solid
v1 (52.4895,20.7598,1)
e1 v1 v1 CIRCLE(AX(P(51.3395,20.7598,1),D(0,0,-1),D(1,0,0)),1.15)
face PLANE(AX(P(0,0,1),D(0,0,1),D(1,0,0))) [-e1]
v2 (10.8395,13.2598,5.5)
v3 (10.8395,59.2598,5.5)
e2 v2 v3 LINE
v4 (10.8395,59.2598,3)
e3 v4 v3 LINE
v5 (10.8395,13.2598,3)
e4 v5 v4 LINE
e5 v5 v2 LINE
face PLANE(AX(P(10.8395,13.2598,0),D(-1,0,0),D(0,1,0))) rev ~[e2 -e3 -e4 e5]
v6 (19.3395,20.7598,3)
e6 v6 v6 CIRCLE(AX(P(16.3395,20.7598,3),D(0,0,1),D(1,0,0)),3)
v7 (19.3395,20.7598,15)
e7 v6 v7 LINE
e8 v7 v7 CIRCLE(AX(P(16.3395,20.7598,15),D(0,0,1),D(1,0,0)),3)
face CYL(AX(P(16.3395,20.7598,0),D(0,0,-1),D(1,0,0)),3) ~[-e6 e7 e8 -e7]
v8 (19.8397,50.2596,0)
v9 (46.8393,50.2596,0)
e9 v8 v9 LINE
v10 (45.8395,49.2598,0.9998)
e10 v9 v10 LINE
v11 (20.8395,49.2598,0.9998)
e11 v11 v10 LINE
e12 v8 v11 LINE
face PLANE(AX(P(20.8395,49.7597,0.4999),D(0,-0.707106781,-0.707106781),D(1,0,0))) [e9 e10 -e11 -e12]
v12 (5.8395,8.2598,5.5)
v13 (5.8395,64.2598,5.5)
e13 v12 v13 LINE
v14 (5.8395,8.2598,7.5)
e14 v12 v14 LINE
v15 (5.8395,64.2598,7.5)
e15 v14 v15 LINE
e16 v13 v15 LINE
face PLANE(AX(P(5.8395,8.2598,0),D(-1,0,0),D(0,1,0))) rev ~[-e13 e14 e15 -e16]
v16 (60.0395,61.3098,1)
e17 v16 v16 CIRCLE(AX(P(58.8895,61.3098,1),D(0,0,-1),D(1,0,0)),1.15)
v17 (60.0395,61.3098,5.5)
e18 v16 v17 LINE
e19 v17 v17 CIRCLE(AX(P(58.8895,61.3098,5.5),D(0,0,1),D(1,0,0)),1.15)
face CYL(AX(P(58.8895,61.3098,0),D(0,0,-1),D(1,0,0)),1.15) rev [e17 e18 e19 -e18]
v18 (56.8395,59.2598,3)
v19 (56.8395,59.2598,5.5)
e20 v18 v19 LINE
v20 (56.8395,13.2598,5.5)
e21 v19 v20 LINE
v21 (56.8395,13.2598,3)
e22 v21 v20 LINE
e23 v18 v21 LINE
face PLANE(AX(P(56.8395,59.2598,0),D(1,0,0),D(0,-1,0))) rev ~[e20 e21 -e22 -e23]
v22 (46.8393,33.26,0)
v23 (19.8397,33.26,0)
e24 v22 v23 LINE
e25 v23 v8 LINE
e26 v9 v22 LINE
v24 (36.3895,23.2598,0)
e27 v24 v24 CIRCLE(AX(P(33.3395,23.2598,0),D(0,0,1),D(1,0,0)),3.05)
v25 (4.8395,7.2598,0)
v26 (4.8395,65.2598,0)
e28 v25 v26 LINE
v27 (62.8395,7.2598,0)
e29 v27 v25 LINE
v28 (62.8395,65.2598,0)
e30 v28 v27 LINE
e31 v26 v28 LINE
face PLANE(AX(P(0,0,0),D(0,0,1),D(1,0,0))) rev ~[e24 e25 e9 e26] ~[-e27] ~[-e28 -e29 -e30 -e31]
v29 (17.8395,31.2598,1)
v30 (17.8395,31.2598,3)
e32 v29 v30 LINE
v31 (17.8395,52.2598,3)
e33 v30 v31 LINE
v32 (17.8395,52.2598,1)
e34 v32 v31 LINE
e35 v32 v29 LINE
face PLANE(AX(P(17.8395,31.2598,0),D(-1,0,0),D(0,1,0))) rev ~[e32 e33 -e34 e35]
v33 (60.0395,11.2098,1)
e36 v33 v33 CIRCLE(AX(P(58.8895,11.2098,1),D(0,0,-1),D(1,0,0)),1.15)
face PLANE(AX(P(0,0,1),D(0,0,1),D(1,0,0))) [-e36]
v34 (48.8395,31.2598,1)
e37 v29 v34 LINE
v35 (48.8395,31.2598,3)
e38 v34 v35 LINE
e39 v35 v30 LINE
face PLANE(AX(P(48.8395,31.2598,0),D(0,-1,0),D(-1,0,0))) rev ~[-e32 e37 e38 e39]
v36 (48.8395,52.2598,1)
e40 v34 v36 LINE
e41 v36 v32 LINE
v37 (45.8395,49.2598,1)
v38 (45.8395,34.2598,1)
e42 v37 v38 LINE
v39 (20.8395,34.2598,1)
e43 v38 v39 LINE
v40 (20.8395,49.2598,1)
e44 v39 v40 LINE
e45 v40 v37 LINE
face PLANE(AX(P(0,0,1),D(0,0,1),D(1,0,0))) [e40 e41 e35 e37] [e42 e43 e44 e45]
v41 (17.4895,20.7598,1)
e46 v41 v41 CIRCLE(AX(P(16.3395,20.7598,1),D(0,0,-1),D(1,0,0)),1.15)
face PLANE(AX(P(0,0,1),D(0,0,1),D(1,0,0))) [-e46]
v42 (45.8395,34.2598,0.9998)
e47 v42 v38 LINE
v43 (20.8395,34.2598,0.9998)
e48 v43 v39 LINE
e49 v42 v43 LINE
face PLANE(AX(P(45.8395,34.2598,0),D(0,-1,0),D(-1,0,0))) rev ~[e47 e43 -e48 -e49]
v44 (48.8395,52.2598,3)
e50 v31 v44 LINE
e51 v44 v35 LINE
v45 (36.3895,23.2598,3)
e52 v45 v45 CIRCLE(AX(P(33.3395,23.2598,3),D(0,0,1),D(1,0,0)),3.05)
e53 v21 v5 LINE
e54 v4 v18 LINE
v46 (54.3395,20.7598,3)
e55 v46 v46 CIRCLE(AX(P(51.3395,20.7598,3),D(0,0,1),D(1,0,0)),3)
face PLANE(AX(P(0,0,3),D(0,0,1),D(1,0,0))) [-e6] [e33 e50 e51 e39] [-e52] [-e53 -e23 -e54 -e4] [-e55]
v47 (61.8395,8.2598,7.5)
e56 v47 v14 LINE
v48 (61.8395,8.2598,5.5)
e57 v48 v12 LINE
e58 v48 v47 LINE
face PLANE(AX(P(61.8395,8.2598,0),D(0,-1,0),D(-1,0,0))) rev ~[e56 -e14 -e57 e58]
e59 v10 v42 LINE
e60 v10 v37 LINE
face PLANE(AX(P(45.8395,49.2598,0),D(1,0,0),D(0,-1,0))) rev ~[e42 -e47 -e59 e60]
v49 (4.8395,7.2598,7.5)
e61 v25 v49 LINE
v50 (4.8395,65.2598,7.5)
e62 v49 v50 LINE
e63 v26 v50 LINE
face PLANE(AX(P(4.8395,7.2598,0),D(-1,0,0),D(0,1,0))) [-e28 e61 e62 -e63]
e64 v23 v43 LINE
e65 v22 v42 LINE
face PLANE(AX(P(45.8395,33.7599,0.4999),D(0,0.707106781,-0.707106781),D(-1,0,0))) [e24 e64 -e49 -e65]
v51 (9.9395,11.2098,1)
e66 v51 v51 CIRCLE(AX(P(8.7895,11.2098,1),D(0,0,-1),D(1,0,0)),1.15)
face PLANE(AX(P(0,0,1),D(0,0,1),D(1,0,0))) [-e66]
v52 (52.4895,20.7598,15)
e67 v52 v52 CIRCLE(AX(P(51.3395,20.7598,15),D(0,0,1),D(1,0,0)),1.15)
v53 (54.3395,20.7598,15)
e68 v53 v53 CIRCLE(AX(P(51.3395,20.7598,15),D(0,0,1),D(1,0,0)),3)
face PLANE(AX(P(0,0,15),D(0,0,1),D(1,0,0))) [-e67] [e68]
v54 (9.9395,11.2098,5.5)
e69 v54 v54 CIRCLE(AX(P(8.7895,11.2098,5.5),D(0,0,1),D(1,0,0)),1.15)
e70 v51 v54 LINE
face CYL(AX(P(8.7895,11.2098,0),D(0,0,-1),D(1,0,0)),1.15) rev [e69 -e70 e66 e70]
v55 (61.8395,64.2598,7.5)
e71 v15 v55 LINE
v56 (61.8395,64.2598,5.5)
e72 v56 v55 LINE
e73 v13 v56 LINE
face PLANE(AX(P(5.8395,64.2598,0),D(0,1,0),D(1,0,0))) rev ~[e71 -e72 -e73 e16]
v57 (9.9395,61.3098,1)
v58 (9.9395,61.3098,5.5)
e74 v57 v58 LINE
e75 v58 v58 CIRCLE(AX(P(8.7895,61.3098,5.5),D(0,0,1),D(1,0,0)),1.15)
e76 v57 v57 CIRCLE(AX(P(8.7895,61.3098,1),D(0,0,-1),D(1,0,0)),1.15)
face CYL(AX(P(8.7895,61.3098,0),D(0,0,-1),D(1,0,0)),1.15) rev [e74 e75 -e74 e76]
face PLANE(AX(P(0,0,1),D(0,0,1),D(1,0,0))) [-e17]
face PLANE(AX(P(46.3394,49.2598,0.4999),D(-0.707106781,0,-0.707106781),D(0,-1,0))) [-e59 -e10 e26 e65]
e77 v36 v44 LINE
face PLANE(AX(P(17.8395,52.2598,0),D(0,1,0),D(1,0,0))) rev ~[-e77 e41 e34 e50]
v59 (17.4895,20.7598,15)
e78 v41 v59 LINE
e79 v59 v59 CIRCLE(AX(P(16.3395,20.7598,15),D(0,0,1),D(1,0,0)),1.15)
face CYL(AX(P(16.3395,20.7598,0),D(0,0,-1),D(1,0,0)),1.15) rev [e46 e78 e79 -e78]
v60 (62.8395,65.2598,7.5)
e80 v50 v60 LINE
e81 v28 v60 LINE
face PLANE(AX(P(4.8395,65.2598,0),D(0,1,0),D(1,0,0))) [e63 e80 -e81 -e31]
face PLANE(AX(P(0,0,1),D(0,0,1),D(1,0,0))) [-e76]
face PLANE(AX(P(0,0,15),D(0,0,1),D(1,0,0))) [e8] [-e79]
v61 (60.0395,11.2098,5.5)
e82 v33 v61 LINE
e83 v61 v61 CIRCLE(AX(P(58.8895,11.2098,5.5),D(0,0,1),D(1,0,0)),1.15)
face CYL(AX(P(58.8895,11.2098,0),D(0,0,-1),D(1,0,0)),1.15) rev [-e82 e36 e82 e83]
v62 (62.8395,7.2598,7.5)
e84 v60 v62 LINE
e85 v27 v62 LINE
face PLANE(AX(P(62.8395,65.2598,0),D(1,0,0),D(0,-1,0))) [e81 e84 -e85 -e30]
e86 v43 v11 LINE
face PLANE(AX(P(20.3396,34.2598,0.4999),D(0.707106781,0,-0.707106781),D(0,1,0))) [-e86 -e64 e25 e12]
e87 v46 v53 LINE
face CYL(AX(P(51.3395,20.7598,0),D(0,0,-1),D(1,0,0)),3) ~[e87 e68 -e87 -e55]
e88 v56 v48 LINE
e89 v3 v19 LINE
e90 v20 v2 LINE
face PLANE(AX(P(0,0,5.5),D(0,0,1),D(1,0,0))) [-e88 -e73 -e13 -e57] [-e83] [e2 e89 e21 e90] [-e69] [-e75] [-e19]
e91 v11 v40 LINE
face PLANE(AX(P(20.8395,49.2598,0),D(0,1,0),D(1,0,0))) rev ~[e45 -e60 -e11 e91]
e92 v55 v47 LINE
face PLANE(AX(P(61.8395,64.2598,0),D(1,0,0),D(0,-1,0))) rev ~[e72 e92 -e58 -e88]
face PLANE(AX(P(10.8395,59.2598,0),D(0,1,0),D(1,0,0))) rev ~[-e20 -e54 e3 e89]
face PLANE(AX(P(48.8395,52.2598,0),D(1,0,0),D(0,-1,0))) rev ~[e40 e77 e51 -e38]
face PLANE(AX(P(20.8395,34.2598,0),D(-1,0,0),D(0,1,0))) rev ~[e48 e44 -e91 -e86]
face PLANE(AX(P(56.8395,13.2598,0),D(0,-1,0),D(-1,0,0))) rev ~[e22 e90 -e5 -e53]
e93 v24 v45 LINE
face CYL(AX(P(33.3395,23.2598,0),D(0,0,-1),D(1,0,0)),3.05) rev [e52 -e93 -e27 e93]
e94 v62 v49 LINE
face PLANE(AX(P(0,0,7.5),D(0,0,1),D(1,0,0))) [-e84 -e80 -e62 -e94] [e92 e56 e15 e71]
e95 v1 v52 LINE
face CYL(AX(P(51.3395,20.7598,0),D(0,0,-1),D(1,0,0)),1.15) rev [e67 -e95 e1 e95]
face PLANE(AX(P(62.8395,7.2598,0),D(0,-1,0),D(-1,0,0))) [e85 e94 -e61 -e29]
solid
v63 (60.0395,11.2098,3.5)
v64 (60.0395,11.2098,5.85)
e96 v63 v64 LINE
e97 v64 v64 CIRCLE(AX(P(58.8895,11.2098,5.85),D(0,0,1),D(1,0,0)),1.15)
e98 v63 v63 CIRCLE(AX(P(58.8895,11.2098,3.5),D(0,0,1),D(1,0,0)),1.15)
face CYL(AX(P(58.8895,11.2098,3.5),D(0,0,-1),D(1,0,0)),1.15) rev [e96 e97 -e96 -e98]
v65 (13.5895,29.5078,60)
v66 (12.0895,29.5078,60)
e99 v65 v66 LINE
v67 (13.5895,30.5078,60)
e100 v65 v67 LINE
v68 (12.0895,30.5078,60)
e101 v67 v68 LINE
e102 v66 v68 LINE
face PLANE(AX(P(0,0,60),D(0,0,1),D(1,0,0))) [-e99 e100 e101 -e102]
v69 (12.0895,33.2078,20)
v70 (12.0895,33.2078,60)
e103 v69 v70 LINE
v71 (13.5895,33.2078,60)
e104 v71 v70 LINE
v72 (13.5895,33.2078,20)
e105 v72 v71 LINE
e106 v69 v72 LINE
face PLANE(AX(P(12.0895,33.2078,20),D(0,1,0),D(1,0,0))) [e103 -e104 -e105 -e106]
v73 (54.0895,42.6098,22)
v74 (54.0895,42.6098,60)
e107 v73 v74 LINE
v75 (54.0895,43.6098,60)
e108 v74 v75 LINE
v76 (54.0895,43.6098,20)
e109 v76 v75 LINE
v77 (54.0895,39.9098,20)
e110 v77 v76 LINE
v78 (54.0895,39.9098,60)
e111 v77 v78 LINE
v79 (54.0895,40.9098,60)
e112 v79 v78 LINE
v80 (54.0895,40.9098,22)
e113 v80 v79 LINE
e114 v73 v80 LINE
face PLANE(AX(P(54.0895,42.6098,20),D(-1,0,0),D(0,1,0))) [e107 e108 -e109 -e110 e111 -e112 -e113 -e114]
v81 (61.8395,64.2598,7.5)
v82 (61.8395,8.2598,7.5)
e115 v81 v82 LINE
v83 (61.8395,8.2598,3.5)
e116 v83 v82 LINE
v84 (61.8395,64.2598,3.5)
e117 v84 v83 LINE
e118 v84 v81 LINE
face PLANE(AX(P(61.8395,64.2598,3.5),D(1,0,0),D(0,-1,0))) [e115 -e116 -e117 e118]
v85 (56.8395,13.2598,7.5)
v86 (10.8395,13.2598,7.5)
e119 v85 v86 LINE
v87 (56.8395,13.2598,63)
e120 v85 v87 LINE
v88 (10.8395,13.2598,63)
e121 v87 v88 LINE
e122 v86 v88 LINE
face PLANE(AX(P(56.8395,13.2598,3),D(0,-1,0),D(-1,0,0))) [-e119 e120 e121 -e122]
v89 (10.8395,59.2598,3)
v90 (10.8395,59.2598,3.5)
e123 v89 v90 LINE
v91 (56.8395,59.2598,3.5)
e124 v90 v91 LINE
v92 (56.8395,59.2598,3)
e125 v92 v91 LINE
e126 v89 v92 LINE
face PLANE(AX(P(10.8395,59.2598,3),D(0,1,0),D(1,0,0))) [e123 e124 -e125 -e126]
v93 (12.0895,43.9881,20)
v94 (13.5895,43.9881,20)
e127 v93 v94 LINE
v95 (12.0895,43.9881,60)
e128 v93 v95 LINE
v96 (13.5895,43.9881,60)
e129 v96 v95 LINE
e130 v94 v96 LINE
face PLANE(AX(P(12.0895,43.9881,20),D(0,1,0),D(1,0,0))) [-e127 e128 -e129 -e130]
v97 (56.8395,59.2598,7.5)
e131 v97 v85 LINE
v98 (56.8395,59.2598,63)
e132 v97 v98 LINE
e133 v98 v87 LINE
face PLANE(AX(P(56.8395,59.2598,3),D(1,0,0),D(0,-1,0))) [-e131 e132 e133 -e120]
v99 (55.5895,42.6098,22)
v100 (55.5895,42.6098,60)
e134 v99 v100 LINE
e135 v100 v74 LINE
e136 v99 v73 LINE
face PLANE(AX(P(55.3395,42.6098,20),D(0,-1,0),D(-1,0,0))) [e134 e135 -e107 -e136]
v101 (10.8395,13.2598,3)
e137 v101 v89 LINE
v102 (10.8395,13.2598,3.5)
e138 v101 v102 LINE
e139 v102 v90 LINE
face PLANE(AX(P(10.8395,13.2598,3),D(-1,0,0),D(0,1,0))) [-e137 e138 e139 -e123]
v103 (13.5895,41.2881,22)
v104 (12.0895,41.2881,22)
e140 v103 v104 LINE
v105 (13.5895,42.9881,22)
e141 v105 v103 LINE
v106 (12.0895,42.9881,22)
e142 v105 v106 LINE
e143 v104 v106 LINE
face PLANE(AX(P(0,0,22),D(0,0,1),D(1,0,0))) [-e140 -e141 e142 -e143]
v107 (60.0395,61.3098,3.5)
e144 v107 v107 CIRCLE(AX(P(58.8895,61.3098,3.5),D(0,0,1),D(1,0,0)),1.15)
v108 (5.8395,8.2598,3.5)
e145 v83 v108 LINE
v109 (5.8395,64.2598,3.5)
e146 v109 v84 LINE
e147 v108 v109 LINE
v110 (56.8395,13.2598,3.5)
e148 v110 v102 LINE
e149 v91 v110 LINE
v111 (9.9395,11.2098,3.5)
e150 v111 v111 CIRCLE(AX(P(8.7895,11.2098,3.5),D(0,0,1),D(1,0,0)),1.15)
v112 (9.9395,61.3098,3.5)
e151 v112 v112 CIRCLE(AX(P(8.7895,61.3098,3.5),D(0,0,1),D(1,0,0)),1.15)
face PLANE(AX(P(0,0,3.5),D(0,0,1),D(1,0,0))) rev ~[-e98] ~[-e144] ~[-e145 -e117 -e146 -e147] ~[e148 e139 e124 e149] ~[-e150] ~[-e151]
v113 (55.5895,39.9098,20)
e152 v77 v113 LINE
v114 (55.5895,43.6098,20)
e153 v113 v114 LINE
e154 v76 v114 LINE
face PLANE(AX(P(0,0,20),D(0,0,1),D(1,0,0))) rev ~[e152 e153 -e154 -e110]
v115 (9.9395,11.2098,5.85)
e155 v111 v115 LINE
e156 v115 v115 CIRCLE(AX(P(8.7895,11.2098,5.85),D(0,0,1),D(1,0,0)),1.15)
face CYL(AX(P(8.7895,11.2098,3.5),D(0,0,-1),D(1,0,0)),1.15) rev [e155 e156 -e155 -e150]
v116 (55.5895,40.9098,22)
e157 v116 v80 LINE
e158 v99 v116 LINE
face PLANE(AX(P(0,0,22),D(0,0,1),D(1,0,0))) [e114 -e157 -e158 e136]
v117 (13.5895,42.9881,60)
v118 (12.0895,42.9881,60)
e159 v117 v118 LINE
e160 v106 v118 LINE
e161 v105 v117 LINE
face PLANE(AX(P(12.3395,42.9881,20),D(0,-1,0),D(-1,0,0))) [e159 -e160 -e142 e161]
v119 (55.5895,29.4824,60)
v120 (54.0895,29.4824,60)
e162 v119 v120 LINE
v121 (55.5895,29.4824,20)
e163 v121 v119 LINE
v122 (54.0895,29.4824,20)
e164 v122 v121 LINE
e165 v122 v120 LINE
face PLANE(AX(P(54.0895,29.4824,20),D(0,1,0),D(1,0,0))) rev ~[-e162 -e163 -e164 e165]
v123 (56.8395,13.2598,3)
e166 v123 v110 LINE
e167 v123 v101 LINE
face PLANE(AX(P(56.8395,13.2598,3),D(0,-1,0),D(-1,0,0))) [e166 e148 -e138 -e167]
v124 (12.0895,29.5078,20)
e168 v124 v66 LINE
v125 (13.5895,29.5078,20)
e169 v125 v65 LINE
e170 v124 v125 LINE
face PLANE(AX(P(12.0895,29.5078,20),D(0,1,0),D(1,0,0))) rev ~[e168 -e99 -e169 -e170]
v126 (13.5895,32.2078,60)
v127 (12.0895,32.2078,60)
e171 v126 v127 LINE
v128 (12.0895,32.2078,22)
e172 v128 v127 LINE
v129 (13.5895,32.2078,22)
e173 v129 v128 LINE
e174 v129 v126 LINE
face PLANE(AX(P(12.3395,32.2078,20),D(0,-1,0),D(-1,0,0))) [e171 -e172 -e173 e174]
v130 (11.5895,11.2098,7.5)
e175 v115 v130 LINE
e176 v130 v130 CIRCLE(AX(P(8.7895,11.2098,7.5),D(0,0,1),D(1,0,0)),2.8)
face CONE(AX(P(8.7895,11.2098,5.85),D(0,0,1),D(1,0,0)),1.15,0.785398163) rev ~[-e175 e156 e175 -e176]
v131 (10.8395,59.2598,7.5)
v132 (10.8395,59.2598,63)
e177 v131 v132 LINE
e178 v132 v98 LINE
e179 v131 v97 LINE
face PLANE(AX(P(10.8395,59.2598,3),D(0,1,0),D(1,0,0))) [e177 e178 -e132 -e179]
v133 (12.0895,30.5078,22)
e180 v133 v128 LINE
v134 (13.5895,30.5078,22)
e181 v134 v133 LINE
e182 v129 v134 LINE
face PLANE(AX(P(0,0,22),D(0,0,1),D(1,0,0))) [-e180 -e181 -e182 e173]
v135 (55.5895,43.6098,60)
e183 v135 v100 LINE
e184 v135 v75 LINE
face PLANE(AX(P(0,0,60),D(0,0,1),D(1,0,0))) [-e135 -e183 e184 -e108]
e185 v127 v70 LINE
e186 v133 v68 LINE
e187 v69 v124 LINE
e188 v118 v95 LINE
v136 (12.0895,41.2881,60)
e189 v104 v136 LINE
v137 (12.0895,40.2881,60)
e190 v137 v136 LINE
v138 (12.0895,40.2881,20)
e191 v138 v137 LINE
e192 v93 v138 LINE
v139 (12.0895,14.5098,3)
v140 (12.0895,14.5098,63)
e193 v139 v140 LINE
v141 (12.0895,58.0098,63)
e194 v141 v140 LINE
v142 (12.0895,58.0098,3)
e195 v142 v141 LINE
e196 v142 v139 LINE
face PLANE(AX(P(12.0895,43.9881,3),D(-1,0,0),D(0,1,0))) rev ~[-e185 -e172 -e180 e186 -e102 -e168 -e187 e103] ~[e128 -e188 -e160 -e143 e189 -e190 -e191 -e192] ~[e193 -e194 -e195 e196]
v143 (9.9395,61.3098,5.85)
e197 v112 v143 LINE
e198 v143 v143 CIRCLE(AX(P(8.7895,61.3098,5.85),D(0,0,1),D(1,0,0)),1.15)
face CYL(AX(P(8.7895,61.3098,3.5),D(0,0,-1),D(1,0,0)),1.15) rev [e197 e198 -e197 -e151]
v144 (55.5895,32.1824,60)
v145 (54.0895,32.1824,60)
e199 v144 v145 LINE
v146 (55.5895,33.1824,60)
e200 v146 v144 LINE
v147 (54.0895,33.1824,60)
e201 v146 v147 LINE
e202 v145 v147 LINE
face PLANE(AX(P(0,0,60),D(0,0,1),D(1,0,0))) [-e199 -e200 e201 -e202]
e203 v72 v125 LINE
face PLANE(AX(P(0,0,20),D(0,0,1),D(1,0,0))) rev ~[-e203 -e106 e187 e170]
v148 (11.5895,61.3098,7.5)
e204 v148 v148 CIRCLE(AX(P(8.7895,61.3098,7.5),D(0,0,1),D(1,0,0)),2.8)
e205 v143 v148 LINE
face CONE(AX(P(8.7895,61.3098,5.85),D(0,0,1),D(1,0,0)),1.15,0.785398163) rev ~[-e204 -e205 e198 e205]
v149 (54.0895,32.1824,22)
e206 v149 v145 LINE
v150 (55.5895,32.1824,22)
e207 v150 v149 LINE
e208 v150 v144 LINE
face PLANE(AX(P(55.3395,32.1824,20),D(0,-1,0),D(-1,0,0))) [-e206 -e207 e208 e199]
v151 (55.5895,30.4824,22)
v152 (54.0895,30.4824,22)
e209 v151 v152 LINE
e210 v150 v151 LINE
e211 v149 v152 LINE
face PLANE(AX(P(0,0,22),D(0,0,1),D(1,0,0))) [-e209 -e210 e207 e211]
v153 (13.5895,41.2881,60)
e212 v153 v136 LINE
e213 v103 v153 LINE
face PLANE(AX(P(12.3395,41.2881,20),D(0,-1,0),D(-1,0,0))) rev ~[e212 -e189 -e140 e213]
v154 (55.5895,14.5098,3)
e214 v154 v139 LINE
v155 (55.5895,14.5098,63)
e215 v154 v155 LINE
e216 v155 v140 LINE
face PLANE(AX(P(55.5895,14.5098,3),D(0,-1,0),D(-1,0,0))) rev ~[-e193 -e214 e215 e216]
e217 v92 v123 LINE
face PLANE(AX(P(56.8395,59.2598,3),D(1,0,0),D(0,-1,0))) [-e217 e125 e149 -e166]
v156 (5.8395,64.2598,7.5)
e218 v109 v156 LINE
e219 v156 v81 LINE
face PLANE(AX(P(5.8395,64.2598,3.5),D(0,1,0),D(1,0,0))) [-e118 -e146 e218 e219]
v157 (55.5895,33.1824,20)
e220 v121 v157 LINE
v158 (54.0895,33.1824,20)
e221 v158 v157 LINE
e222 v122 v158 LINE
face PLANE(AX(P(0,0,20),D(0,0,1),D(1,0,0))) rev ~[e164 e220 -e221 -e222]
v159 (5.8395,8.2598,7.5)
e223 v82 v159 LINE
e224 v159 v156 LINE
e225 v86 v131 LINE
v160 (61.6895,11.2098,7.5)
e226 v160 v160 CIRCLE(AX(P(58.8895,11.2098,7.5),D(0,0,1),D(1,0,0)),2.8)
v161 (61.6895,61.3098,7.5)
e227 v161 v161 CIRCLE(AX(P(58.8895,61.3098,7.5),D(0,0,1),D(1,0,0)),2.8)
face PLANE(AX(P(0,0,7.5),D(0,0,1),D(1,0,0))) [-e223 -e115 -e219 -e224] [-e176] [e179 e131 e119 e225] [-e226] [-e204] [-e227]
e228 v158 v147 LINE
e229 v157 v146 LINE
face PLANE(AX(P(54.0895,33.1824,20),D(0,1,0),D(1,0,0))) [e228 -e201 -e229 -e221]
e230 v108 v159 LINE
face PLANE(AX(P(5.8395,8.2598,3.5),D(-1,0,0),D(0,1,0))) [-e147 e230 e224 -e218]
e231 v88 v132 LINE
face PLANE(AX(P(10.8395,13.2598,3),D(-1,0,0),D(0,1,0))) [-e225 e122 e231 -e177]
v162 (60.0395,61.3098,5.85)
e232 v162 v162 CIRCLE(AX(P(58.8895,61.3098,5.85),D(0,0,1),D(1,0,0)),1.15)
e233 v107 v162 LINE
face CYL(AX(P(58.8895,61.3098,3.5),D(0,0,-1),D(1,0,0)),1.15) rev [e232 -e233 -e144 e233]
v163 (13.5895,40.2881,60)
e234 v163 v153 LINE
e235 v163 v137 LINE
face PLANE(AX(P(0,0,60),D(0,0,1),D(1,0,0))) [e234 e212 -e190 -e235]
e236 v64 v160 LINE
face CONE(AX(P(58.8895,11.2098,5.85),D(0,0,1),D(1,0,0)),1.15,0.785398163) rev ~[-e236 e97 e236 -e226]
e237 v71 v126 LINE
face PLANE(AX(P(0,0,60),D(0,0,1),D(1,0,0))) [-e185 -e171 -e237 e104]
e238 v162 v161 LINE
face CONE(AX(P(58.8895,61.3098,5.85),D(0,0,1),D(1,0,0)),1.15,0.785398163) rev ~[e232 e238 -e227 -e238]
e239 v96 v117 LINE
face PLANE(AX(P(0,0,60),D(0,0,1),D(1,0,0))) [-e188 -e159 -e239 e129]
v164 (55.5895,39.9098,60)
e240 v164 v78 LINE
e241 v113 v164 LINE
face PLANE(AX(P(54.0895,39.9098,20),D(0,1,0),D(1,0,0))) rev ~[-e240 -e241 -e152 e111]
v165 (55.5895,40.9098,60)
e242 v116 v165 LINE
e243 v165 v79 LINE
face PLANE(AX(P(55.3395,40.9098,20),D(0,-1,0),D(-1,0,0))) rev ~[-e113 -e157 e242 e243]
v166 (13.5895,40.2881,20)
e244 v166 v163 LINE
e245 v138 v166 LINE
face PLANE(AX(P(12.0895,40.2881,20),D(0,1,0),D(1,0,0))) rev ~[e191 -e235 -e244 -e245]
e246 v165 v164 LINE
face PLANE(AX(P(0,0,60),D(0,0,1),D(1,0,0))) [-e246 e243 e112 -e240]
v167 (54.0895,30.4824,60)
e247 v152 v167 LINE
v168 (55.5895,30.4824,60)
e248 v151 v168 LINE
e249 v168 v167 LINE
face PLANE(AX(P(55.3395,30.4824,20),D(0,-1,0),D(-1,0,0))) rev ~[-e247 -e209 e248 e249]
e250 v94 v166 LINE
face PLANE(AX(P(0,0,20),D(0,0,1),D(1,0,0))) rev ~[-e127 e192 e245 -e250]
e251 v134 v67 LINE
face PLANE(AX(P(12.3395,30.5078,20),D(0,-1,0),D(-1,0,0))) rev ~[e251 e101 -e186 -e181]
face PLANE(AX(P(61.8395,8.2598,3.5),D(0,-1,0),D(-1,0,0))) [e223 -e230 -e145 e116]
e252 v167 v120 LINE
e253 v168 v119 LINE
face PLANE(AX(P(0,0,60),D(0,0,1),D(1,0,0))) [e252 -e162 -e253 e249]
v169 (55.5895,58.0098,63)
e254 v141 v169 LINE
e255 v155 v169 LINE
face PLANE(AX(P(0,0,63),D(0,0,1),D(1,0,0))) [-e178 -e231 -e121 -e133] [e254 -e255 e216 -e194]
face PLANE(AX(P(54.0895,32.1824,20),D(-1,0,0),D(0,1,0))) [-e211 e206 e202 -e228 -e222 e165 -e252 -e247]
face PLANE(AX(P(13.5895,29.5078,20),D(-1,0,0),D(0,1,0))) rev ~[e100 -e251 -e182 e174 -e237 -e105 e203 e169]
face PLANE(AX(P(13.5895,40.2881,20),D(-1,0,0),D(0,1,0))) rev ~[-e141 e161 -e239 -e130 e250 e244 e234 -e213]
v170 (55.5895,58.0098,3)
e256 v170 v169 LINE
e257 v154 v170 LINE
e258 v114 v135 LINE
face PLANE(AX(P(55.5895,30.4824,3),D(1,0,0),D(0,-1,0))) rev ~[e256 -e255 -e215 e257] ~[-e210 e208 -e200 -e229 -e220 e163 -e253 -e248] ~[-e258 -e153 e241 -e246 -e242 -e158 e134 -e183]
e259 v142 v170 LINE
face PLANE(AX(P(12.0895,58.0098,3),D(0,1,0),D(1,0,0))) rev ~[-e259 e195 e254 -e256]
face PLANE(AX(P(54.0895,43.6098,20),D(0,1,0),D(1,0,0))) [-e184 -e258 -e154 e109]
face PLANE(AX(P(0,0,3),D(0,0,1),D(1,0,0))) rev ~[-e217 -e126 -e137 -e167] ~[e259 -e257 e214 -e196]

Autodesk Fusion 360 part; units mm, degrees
sketch "Esquisse1" plane through (0, 0, 0) normal (0, 0, 1) x (1, 0, 0)
  line L0 (56.8395, 13.2598) -> (10.8395, 13.2598)
  line L1 (10.8395, 13.2598) -> (10.8395, 59.2598)
  line L2 (10.8395, 59.2598) -> (56.8395, 59.2598)
  line L3 (56.8395, 59.2598) -> (56.8395, 13.2598)
  line L4 (56.8395, 13.2598) -> (10.8395, 59.2598) construction
  line L5 (10.8395, 13.2598) -> (56.8395, 59.2598) construction
  line L6 (62.8395, 7.2598) -> (4.8395, 7.2598)
  line L7 (4.8395, 7.2598) -> (4.8395, 65.2598)
  line L8 (4.8395, 65.2598) -> (62.8395, 65.2598)
  line L9 (62.8395, 65.2598) -> (62.8395, 7.2598)
  line L10 (62.8395, 7.2598) -> (4.8395, 65.2598) construction
  line L11 (4.8395, 7.2598) -> (62.8395, 65.2598) construction
  line L12 (39.3395, 17.2598) -> (27.3395, 17.2598)
  line L13 (27.3395, 17.2598) -> (27.3395, 29.2598)
  line L14 (27.3395, 29.2598) -> (39.3395, 29.2598)
  line L15 (39.3395, 29.2598) -> (39.3395, 17.2598)
  line L16 (39.3395, 17.2598) -> (27.3395, 29.2598) construction
  line L17 (27.3395, 17.2598) -> (39.3395, 29.2598) construction
  circle A0 centre (33.3395, 23.2598) radius 3.05
  circle A1 centre (16.3395, 20.7598) radius 1.15
  circle A2 centre (51.3395, 20.7598) radius 1.15
  line L18 (45.8395, 34.2598) -> (20.8395, 34.2598)
  line L19 (20.8395, 34.2598) -> (20.8395, 49.2598)
  line L20 (20.8395, 49.2598) -> (45.8395, 49.2598)
  line L21 (45.8395, 49.2598) -> (45.8395, 34.2598)
  line L22 (45.8395, 34.2598) -> (20.8395, 49.2598) construction
  line L23 (20.8395, 34.2598) -> (45.8395, 49.2598) construction
  line L24 (55.3395, 14.7598) -> (12.3395, 14.7598)
  line L25 (12.3395, 14.7598) -> (12.3395, 57.7598)
  line L26 (12.3395, 57.7598) -> (55.3395, 57.7598)
  line L27 (55.3395, 57.7598) -> (55.3395, 14.7598)
  line L28 (55.3395, 14.7598) -> (12.3395, 57.7598) construction
  line L29 (12.3395, 14.7598) -> (55.3395, 57.7598) construction
  circle A3 centre (8.7895, 61.3098) radius 1.15
  circle A4 centre (16.3395, 20.7598) radius 3
  line L30 (61.8395, 8.2598) -> (5.8395, 8.2598)
  line L31 (5.8395, 8.2598) -> (5.8395, 64.2598)
  line L32 (5.8395, 64.2598) -> (61.8395, 64.2598)
  line L33 (61.8395, 64.2598) -> (61.8395, 8.2598)
  line L34 (61.8395, 8.2598) -> (5.8395, 64.2598) construction
  line L35 (5.8395, 8.2598) -> (61.8395, 64.2598) construction
  circle A5 centre (51.3395, 20.7598) radius 3
  circle A6 centre (8.7895, 11.2098) radius 1.15
  circle A7 centre (58.8895, 11.2098) radius 1.15
  circle A8 centre (58.8895, 61.3098) radius 1.15
  line L36 (55.5895, 14.5098) -> (12.0895, 14.5098)
  line L37 (12.0895, 14.5098) -> (12.0895, 58.0098)
  line L38 (12.0895, 58.0098) -> (55.5895, 58.0098)
  line L39 (55.5895, 58.0098) -> (55.5895, 14.5098)
  line L40 (55.5895, 14.5098) -> (12.0895, 58.0098) construction
  line L41 (12.0895, 14.5098) -> (55.5895, 58.0098) construction
  line L42 (55.5895, 40.9098) -> (54.0895, 40.9098)
  line L43 (54.0895, 40.9098) -> (54.0895, 39.9098)
  line L44 (54.0895, 39.9098) -> (55.5895, 39.9098)
  line L45 (55.5895, 39.9098) -> (55.5895, 40.9098)
  line L46 (55.5895, 42.6098) -> (54.0895, 42.6098)
  line L47 (54.0895, 42.6098) -> (54.0895, 43.6098)
  line L48 (54.0895, 43.6098) -> (55.5895, 43.6098)
  line L49 (55.5895, 43.6098) -> (55.5895, 42.6098)
  line L50 (55.5895, 32.1824) -> (54.0895, 32.1824)
  line L51 (54.0895, 30.4824) -> (54.0895, 29.4824)
  line L52 (55.5895, 30.4824) -> (54.0895, 30.4824)
  line L53 (54.0895, 32.1824) -> (54.0895, 33.1824)
  line L54 (55.5895, 29.4824) -> (55.5895, 30.4824)
  line L55 (54.0895, 29.4824) -> (55.5895, 29.4824)
  line L56 (54.0895, 33.1824) -> (55.5895, 33.1824)
  line L57 (55.5895, 33.1824) -> (55.5895, 32.1824)
  line L58 (13.5895, 30.5078) -> (12.0895, 30.5078)
  line L59 (12.0895, 30.5078) -> (12.0895, 29.5078)
  line L60 (13.5895, 33.2078) -> (13.5895, 32.2078)
  line L61 (12.0895, 29.5078) -> (13.5895, 29.5078)
  line L62 (13.5895, 32.2078) -> (12.0895, 32.2078)
  line L63 (13.5895, 29.5078) -> (13.5895, 30.5078)
  line L64 (12.0895, 32.2078) -> (12.0895, 33.2078)
  line L65 (12.0895, 33.2078) -> (13.5895, 33.2078)
  line L66 (12.0895, 40.2881) -> (13.5895, 40.2881)
  line L67 (12.0895, 41.2881) -> (12.0895, 40.2881)
  line L68 (12.0895, 43.9881) -> (13.5895, 43.9881)
  line L69 (13.5895, 43.9881) -> (13.5895, 42.9881)
  line L70 (13.5895, 42.9881) -> (12.0895, 42.9881)
  line L71 (13.5895, 40.2881) -> (13.5895, 41.2881)
  line L72 (12.0895, 42.9881) -> (12.0895, 43.9881)
  line L73 (13.5895, 41.2881) -> (12.0895, 41.2881)
  line L74 (54.0895, 32.1824) -> (54.0895, 30.4824)
  line L75 (54.0895, 42.6098) -> (54.0895, 40.9098)
  line L76 (13.5895, 42.9881) -> (13.5895, 41.2881)
  line L77 (13.5895, 32.2078) -> (13.5895, 30.5078)
  line L78 (48.8395, 31.2598) -> (17.8395, 31.2598)
  line L79 (17.8395, 31.2598) -> (17.8395, 52.2598)
  line L80 (17.8395, 52.2598) -> (48.8395, 52.2598)
  line L81 (48.8395, 52.2598) -> (48.8395, 31.2598)
  line L82 (48.8395, 31.2598) -> (17.8395, 52.2598) construction
  line L83 (17.8395, 31.2598) -> (48.8395, 52.2598) construction
  point P0 (33.8395, 36.2598)
  point P1 (33.8395, 36.2598)
  point P2 (33.3395, 23.2598)
  point P3 (33.3395, 41.7598)
  point P4 (33.8395, 36.2598)
  point P5 (33.8395, 36.2598)
  point P6 (33.3395, 41.7598)
  point P7 (33.8395, 36.2598)
  point P8 (33.3395, 41.7598)
  dimension "d2" = 46
  dimension "d10" = 12
  dimension "d11" = 12
  dimension "d12" = 6.1
  dimension "d20" = 2.3
  dimension "d21" = 2.3
  dimension "d23" = 25
  dimension "d24" = 15
  dimension "d36" = 2.3
  dimension "d39" = 6
  dimension "d70" = 2.95
  dimension "d71" = 2.95
  dimension "d80" = 6
  dimension "d84" = 5
  dimension "d86" = 1
  dimension "d87" = 4
  dimension "d92" = 4
  dimension "d95" = 2.3
  dimension "d96" = 2.95
  dimension "d97" = 2.95
  dimension "d98" = 2.3
  dimension "d99" = 2.95
  dimension "d100" = 2.95
  dimension "d101" = 2.3
  dimension "d102" = 2.95
  dimension "d103" = 2.95
  dimension "d109" = 5
  dimension "d110" = 1
  dimension "d111" = 46
  dimension "d112" = 21
  dimension "d114" = 1.25
  dimension "d115" = 0.25
  dimension "d116" = 0.25
  dimension "d117" = 1.25
  dimension "d141" = 1.5
  dimension "d142" = 1
  dimension "d143" = 1.5
  dimension "d144" = 1
  dimension "d145" = 1.7
  dimension "d150" = 21
  dimension "d151" = 6
  dimension "d152" = 16
  dimension "d153" = 6
  dimension "d154" = 15.15
  dimension "d155" = 1.5
  dimension "d156" = 1
  dimension "d157" = 1.5
  dimension "d158" = 1
  dimension "d159" = 1.7
  dimension "d160" = 1.5
  dimension "d161" = 1
  dimension "d162" = 1.5
  dimension "d163" = 1
  dimension "d164" = 1.7
  dimension "d165" = 1.5
  dimension "d166" = 1
  dimension "d167" = 1.5
  dimension "d168" = 1
  dimension "d169" = 1.7
  dimension "d177" = 3
  dimension "d178" = 3
  dimension "d179" = 8.5
extrude "Extrusion8" add sketch "Esquisse1" along normal blind 1 contours L0 L1 L2 L3 | L12 L13 L14 L15 | A1 | A2 | L24 L25 L27 L36 L37 L39 L55 L61 | L24 L25 L26 L27 L43 L44 L47 L48 L51 L53 L55 L56 L60 L61 L63 L65 L66 L68 L69 L71 L74 L75 L76 L77 | L27 L51 L52 L55 | L27 L39 L52 L54 L55 | L25 L37 L58 L59 L61 | L25 L58 L61 L63 | L27 L50 L52 L74 | L27 L39 L50 L52 | L25 L37 L58 L62 | L25 L58 L62 L77 | L27 L50 L53 L56 | L27 L39 L50 L56 L57 | L25 L37 L62 L64 L65 | L25 L60 L62 L65 | L27 L39 L44 L56 | L25 L37 L65 L66 | L27 L42 L43 L44 | L27 L39 L42 L44 L45 | L25 L37 L66 L67 L73 | L25 L66 L71 L73 | L27 L42 L46 L75 | L27 L39 L42 L46 | L25 L37 L70 L73 | L25 L70 L73 L76 | L27 L46 L47 L48 | L27 L39 L46 L48 L49 | L25 L37 L68 L70 L72 | L25 L68 L69 L70 | L25 L26 L27 L37 L38 L39 L48 L68 | A3 | A4 | L30 L31 L32 L33 | A5 | A6 | A7 | A8 | L78 L79 L80 L81 makes body 1
extrude "Extrusion26" add sketch "Esquisse1" along normal blind 7.5 contours L6 L7 L8 L9 bodies 1
extrude "Extrusion27" add sketch "Esquisse1" along normal blind 5.5 contours L30 L31 L32 L33 bodies 1
extrude "Extrusion29" add sketch "Esquisse1" along normal blind 3 contours L0 L1 L2 L3 | L12 L13 L14 L15 | L24 L25 L27 L36 L37 L39 L55 L61 | L24 L25 L26 L27 L43 L44 L47 L48 L51 L53 L55 L56 L60 L61 L63 L65 L66 L68 L69 L71 L74 L75 L76 L77 | L27 L51 L52 L55 | L27 L39 L52 L54 L55 | L25 L37 L58 L59 L61 | L25 L58 L61 L63 | L27 L50 L52 L74 | L27 L39 L50 L52 | L25 L37 L58 L62 | L25 L58 L62 L77 | L27 L50 L53 L56 | L27 L39 L50 L56 L57 | L25 L37 L62 L64 L65 | L25 L60 L62 L65 | L27 L39 L44 L56 | L25 L37 L65 L66 | L27 L42 L43 L44 | L27 L39 L42 L44 L45 | L25 L37 L66 L67 L73 | L25 L66 L71 L73 | L27 L42 L46 L75 | L27 L39 L42 L46 | L25 L37 L70 L73 | L25 L70 L73 L76 | L27 L46 L47 L48 | L27 L39 L46 L48 L49 | L25 L37 L68 L70 L72 | L25 L68 L69 L70 | L25 L26 L27 L37 L38 L39 L48 L68 bodies 1
extrude "Extrusion30" add sketch "Esquisse1" along normal blind 15 contours A4 | A5 bodies 1
extrude "Extrusion21" add sketch "Esquisse1" along normal blind 4 from surface at 3.5 separate body contours L30 L31 L32 L33 makes body 2
extrude "Extrusion22" add sketch "Esquisse1" along normal blind 60 from surface at 3 contours L0 L1 L2 L3 bodies 2
extrude "Extrusion24" add sketch "Esquisse1" along normal blind 40 from surface at 20 contours L27 L51 L52 L55 | L27 L39 L52 L54 L55 | L25 L37 L58 L59 L61 | L25 L58 L61 L63 | L27 L50 L53 L56 | L27 L39 L50 L56 L57 | L25 L37 L62 L64 L65 | L25 L60 L62 L65 | L27 L42 L43 L44 | L27 L39 L42 L44 L45 | L25 L37 L66 L67 L73 | L25 L66 L71 L73 | L27 L46 L47 L48 | L27 L39 L46 L48 L49 | L25 L37 L68 L70 L72 | L25 L68 L69 L70 bodies 2
extrude "Extrusion25" add sketch "Esquisse1" along normal blind 2 from surface at 20 contours L27 L50 L52 L74 | L27 L39 L50 L52 | L25 L37 L58 L62 | L25 L58 L62 L77 | L27 L42 L46 L75 | L27 L39 L42 L46 | L25 L37 L70 L73 | L25 L70 L73 L76 bodies 2
chamfer "Chanfrein4" distance 1.65 angle 45 4 edges at (7.7173, 61.7257, 7.5) (7.7173, 11.6257, 7.5) (57.8173, 61.7257, 7.5) (57.8173, 11.6257, 7.5) on bodies 2
chamfer "Chanfrein5" distance 1 angle 45 4 edges at (33.3395, 49.2598, 0) (45.8395, 41.7598, 0) (33.3395, 34.2598, 0) (20.8395, 41.7598, 0) on bodies 1
equation "d20 = diam_autotaraudage"
equation "d21 = diam_autotaraudage"
equation "d36 = diam_autotaraudage"
equation "d95 = diam_autotaraudage"
equation "d98 = diam_autotaraudage"
equation "d101 = diam_autotaraudage"
equation "hauteur = 48 mm"
equation "diam_autotaraudage = 2.3 mm"
